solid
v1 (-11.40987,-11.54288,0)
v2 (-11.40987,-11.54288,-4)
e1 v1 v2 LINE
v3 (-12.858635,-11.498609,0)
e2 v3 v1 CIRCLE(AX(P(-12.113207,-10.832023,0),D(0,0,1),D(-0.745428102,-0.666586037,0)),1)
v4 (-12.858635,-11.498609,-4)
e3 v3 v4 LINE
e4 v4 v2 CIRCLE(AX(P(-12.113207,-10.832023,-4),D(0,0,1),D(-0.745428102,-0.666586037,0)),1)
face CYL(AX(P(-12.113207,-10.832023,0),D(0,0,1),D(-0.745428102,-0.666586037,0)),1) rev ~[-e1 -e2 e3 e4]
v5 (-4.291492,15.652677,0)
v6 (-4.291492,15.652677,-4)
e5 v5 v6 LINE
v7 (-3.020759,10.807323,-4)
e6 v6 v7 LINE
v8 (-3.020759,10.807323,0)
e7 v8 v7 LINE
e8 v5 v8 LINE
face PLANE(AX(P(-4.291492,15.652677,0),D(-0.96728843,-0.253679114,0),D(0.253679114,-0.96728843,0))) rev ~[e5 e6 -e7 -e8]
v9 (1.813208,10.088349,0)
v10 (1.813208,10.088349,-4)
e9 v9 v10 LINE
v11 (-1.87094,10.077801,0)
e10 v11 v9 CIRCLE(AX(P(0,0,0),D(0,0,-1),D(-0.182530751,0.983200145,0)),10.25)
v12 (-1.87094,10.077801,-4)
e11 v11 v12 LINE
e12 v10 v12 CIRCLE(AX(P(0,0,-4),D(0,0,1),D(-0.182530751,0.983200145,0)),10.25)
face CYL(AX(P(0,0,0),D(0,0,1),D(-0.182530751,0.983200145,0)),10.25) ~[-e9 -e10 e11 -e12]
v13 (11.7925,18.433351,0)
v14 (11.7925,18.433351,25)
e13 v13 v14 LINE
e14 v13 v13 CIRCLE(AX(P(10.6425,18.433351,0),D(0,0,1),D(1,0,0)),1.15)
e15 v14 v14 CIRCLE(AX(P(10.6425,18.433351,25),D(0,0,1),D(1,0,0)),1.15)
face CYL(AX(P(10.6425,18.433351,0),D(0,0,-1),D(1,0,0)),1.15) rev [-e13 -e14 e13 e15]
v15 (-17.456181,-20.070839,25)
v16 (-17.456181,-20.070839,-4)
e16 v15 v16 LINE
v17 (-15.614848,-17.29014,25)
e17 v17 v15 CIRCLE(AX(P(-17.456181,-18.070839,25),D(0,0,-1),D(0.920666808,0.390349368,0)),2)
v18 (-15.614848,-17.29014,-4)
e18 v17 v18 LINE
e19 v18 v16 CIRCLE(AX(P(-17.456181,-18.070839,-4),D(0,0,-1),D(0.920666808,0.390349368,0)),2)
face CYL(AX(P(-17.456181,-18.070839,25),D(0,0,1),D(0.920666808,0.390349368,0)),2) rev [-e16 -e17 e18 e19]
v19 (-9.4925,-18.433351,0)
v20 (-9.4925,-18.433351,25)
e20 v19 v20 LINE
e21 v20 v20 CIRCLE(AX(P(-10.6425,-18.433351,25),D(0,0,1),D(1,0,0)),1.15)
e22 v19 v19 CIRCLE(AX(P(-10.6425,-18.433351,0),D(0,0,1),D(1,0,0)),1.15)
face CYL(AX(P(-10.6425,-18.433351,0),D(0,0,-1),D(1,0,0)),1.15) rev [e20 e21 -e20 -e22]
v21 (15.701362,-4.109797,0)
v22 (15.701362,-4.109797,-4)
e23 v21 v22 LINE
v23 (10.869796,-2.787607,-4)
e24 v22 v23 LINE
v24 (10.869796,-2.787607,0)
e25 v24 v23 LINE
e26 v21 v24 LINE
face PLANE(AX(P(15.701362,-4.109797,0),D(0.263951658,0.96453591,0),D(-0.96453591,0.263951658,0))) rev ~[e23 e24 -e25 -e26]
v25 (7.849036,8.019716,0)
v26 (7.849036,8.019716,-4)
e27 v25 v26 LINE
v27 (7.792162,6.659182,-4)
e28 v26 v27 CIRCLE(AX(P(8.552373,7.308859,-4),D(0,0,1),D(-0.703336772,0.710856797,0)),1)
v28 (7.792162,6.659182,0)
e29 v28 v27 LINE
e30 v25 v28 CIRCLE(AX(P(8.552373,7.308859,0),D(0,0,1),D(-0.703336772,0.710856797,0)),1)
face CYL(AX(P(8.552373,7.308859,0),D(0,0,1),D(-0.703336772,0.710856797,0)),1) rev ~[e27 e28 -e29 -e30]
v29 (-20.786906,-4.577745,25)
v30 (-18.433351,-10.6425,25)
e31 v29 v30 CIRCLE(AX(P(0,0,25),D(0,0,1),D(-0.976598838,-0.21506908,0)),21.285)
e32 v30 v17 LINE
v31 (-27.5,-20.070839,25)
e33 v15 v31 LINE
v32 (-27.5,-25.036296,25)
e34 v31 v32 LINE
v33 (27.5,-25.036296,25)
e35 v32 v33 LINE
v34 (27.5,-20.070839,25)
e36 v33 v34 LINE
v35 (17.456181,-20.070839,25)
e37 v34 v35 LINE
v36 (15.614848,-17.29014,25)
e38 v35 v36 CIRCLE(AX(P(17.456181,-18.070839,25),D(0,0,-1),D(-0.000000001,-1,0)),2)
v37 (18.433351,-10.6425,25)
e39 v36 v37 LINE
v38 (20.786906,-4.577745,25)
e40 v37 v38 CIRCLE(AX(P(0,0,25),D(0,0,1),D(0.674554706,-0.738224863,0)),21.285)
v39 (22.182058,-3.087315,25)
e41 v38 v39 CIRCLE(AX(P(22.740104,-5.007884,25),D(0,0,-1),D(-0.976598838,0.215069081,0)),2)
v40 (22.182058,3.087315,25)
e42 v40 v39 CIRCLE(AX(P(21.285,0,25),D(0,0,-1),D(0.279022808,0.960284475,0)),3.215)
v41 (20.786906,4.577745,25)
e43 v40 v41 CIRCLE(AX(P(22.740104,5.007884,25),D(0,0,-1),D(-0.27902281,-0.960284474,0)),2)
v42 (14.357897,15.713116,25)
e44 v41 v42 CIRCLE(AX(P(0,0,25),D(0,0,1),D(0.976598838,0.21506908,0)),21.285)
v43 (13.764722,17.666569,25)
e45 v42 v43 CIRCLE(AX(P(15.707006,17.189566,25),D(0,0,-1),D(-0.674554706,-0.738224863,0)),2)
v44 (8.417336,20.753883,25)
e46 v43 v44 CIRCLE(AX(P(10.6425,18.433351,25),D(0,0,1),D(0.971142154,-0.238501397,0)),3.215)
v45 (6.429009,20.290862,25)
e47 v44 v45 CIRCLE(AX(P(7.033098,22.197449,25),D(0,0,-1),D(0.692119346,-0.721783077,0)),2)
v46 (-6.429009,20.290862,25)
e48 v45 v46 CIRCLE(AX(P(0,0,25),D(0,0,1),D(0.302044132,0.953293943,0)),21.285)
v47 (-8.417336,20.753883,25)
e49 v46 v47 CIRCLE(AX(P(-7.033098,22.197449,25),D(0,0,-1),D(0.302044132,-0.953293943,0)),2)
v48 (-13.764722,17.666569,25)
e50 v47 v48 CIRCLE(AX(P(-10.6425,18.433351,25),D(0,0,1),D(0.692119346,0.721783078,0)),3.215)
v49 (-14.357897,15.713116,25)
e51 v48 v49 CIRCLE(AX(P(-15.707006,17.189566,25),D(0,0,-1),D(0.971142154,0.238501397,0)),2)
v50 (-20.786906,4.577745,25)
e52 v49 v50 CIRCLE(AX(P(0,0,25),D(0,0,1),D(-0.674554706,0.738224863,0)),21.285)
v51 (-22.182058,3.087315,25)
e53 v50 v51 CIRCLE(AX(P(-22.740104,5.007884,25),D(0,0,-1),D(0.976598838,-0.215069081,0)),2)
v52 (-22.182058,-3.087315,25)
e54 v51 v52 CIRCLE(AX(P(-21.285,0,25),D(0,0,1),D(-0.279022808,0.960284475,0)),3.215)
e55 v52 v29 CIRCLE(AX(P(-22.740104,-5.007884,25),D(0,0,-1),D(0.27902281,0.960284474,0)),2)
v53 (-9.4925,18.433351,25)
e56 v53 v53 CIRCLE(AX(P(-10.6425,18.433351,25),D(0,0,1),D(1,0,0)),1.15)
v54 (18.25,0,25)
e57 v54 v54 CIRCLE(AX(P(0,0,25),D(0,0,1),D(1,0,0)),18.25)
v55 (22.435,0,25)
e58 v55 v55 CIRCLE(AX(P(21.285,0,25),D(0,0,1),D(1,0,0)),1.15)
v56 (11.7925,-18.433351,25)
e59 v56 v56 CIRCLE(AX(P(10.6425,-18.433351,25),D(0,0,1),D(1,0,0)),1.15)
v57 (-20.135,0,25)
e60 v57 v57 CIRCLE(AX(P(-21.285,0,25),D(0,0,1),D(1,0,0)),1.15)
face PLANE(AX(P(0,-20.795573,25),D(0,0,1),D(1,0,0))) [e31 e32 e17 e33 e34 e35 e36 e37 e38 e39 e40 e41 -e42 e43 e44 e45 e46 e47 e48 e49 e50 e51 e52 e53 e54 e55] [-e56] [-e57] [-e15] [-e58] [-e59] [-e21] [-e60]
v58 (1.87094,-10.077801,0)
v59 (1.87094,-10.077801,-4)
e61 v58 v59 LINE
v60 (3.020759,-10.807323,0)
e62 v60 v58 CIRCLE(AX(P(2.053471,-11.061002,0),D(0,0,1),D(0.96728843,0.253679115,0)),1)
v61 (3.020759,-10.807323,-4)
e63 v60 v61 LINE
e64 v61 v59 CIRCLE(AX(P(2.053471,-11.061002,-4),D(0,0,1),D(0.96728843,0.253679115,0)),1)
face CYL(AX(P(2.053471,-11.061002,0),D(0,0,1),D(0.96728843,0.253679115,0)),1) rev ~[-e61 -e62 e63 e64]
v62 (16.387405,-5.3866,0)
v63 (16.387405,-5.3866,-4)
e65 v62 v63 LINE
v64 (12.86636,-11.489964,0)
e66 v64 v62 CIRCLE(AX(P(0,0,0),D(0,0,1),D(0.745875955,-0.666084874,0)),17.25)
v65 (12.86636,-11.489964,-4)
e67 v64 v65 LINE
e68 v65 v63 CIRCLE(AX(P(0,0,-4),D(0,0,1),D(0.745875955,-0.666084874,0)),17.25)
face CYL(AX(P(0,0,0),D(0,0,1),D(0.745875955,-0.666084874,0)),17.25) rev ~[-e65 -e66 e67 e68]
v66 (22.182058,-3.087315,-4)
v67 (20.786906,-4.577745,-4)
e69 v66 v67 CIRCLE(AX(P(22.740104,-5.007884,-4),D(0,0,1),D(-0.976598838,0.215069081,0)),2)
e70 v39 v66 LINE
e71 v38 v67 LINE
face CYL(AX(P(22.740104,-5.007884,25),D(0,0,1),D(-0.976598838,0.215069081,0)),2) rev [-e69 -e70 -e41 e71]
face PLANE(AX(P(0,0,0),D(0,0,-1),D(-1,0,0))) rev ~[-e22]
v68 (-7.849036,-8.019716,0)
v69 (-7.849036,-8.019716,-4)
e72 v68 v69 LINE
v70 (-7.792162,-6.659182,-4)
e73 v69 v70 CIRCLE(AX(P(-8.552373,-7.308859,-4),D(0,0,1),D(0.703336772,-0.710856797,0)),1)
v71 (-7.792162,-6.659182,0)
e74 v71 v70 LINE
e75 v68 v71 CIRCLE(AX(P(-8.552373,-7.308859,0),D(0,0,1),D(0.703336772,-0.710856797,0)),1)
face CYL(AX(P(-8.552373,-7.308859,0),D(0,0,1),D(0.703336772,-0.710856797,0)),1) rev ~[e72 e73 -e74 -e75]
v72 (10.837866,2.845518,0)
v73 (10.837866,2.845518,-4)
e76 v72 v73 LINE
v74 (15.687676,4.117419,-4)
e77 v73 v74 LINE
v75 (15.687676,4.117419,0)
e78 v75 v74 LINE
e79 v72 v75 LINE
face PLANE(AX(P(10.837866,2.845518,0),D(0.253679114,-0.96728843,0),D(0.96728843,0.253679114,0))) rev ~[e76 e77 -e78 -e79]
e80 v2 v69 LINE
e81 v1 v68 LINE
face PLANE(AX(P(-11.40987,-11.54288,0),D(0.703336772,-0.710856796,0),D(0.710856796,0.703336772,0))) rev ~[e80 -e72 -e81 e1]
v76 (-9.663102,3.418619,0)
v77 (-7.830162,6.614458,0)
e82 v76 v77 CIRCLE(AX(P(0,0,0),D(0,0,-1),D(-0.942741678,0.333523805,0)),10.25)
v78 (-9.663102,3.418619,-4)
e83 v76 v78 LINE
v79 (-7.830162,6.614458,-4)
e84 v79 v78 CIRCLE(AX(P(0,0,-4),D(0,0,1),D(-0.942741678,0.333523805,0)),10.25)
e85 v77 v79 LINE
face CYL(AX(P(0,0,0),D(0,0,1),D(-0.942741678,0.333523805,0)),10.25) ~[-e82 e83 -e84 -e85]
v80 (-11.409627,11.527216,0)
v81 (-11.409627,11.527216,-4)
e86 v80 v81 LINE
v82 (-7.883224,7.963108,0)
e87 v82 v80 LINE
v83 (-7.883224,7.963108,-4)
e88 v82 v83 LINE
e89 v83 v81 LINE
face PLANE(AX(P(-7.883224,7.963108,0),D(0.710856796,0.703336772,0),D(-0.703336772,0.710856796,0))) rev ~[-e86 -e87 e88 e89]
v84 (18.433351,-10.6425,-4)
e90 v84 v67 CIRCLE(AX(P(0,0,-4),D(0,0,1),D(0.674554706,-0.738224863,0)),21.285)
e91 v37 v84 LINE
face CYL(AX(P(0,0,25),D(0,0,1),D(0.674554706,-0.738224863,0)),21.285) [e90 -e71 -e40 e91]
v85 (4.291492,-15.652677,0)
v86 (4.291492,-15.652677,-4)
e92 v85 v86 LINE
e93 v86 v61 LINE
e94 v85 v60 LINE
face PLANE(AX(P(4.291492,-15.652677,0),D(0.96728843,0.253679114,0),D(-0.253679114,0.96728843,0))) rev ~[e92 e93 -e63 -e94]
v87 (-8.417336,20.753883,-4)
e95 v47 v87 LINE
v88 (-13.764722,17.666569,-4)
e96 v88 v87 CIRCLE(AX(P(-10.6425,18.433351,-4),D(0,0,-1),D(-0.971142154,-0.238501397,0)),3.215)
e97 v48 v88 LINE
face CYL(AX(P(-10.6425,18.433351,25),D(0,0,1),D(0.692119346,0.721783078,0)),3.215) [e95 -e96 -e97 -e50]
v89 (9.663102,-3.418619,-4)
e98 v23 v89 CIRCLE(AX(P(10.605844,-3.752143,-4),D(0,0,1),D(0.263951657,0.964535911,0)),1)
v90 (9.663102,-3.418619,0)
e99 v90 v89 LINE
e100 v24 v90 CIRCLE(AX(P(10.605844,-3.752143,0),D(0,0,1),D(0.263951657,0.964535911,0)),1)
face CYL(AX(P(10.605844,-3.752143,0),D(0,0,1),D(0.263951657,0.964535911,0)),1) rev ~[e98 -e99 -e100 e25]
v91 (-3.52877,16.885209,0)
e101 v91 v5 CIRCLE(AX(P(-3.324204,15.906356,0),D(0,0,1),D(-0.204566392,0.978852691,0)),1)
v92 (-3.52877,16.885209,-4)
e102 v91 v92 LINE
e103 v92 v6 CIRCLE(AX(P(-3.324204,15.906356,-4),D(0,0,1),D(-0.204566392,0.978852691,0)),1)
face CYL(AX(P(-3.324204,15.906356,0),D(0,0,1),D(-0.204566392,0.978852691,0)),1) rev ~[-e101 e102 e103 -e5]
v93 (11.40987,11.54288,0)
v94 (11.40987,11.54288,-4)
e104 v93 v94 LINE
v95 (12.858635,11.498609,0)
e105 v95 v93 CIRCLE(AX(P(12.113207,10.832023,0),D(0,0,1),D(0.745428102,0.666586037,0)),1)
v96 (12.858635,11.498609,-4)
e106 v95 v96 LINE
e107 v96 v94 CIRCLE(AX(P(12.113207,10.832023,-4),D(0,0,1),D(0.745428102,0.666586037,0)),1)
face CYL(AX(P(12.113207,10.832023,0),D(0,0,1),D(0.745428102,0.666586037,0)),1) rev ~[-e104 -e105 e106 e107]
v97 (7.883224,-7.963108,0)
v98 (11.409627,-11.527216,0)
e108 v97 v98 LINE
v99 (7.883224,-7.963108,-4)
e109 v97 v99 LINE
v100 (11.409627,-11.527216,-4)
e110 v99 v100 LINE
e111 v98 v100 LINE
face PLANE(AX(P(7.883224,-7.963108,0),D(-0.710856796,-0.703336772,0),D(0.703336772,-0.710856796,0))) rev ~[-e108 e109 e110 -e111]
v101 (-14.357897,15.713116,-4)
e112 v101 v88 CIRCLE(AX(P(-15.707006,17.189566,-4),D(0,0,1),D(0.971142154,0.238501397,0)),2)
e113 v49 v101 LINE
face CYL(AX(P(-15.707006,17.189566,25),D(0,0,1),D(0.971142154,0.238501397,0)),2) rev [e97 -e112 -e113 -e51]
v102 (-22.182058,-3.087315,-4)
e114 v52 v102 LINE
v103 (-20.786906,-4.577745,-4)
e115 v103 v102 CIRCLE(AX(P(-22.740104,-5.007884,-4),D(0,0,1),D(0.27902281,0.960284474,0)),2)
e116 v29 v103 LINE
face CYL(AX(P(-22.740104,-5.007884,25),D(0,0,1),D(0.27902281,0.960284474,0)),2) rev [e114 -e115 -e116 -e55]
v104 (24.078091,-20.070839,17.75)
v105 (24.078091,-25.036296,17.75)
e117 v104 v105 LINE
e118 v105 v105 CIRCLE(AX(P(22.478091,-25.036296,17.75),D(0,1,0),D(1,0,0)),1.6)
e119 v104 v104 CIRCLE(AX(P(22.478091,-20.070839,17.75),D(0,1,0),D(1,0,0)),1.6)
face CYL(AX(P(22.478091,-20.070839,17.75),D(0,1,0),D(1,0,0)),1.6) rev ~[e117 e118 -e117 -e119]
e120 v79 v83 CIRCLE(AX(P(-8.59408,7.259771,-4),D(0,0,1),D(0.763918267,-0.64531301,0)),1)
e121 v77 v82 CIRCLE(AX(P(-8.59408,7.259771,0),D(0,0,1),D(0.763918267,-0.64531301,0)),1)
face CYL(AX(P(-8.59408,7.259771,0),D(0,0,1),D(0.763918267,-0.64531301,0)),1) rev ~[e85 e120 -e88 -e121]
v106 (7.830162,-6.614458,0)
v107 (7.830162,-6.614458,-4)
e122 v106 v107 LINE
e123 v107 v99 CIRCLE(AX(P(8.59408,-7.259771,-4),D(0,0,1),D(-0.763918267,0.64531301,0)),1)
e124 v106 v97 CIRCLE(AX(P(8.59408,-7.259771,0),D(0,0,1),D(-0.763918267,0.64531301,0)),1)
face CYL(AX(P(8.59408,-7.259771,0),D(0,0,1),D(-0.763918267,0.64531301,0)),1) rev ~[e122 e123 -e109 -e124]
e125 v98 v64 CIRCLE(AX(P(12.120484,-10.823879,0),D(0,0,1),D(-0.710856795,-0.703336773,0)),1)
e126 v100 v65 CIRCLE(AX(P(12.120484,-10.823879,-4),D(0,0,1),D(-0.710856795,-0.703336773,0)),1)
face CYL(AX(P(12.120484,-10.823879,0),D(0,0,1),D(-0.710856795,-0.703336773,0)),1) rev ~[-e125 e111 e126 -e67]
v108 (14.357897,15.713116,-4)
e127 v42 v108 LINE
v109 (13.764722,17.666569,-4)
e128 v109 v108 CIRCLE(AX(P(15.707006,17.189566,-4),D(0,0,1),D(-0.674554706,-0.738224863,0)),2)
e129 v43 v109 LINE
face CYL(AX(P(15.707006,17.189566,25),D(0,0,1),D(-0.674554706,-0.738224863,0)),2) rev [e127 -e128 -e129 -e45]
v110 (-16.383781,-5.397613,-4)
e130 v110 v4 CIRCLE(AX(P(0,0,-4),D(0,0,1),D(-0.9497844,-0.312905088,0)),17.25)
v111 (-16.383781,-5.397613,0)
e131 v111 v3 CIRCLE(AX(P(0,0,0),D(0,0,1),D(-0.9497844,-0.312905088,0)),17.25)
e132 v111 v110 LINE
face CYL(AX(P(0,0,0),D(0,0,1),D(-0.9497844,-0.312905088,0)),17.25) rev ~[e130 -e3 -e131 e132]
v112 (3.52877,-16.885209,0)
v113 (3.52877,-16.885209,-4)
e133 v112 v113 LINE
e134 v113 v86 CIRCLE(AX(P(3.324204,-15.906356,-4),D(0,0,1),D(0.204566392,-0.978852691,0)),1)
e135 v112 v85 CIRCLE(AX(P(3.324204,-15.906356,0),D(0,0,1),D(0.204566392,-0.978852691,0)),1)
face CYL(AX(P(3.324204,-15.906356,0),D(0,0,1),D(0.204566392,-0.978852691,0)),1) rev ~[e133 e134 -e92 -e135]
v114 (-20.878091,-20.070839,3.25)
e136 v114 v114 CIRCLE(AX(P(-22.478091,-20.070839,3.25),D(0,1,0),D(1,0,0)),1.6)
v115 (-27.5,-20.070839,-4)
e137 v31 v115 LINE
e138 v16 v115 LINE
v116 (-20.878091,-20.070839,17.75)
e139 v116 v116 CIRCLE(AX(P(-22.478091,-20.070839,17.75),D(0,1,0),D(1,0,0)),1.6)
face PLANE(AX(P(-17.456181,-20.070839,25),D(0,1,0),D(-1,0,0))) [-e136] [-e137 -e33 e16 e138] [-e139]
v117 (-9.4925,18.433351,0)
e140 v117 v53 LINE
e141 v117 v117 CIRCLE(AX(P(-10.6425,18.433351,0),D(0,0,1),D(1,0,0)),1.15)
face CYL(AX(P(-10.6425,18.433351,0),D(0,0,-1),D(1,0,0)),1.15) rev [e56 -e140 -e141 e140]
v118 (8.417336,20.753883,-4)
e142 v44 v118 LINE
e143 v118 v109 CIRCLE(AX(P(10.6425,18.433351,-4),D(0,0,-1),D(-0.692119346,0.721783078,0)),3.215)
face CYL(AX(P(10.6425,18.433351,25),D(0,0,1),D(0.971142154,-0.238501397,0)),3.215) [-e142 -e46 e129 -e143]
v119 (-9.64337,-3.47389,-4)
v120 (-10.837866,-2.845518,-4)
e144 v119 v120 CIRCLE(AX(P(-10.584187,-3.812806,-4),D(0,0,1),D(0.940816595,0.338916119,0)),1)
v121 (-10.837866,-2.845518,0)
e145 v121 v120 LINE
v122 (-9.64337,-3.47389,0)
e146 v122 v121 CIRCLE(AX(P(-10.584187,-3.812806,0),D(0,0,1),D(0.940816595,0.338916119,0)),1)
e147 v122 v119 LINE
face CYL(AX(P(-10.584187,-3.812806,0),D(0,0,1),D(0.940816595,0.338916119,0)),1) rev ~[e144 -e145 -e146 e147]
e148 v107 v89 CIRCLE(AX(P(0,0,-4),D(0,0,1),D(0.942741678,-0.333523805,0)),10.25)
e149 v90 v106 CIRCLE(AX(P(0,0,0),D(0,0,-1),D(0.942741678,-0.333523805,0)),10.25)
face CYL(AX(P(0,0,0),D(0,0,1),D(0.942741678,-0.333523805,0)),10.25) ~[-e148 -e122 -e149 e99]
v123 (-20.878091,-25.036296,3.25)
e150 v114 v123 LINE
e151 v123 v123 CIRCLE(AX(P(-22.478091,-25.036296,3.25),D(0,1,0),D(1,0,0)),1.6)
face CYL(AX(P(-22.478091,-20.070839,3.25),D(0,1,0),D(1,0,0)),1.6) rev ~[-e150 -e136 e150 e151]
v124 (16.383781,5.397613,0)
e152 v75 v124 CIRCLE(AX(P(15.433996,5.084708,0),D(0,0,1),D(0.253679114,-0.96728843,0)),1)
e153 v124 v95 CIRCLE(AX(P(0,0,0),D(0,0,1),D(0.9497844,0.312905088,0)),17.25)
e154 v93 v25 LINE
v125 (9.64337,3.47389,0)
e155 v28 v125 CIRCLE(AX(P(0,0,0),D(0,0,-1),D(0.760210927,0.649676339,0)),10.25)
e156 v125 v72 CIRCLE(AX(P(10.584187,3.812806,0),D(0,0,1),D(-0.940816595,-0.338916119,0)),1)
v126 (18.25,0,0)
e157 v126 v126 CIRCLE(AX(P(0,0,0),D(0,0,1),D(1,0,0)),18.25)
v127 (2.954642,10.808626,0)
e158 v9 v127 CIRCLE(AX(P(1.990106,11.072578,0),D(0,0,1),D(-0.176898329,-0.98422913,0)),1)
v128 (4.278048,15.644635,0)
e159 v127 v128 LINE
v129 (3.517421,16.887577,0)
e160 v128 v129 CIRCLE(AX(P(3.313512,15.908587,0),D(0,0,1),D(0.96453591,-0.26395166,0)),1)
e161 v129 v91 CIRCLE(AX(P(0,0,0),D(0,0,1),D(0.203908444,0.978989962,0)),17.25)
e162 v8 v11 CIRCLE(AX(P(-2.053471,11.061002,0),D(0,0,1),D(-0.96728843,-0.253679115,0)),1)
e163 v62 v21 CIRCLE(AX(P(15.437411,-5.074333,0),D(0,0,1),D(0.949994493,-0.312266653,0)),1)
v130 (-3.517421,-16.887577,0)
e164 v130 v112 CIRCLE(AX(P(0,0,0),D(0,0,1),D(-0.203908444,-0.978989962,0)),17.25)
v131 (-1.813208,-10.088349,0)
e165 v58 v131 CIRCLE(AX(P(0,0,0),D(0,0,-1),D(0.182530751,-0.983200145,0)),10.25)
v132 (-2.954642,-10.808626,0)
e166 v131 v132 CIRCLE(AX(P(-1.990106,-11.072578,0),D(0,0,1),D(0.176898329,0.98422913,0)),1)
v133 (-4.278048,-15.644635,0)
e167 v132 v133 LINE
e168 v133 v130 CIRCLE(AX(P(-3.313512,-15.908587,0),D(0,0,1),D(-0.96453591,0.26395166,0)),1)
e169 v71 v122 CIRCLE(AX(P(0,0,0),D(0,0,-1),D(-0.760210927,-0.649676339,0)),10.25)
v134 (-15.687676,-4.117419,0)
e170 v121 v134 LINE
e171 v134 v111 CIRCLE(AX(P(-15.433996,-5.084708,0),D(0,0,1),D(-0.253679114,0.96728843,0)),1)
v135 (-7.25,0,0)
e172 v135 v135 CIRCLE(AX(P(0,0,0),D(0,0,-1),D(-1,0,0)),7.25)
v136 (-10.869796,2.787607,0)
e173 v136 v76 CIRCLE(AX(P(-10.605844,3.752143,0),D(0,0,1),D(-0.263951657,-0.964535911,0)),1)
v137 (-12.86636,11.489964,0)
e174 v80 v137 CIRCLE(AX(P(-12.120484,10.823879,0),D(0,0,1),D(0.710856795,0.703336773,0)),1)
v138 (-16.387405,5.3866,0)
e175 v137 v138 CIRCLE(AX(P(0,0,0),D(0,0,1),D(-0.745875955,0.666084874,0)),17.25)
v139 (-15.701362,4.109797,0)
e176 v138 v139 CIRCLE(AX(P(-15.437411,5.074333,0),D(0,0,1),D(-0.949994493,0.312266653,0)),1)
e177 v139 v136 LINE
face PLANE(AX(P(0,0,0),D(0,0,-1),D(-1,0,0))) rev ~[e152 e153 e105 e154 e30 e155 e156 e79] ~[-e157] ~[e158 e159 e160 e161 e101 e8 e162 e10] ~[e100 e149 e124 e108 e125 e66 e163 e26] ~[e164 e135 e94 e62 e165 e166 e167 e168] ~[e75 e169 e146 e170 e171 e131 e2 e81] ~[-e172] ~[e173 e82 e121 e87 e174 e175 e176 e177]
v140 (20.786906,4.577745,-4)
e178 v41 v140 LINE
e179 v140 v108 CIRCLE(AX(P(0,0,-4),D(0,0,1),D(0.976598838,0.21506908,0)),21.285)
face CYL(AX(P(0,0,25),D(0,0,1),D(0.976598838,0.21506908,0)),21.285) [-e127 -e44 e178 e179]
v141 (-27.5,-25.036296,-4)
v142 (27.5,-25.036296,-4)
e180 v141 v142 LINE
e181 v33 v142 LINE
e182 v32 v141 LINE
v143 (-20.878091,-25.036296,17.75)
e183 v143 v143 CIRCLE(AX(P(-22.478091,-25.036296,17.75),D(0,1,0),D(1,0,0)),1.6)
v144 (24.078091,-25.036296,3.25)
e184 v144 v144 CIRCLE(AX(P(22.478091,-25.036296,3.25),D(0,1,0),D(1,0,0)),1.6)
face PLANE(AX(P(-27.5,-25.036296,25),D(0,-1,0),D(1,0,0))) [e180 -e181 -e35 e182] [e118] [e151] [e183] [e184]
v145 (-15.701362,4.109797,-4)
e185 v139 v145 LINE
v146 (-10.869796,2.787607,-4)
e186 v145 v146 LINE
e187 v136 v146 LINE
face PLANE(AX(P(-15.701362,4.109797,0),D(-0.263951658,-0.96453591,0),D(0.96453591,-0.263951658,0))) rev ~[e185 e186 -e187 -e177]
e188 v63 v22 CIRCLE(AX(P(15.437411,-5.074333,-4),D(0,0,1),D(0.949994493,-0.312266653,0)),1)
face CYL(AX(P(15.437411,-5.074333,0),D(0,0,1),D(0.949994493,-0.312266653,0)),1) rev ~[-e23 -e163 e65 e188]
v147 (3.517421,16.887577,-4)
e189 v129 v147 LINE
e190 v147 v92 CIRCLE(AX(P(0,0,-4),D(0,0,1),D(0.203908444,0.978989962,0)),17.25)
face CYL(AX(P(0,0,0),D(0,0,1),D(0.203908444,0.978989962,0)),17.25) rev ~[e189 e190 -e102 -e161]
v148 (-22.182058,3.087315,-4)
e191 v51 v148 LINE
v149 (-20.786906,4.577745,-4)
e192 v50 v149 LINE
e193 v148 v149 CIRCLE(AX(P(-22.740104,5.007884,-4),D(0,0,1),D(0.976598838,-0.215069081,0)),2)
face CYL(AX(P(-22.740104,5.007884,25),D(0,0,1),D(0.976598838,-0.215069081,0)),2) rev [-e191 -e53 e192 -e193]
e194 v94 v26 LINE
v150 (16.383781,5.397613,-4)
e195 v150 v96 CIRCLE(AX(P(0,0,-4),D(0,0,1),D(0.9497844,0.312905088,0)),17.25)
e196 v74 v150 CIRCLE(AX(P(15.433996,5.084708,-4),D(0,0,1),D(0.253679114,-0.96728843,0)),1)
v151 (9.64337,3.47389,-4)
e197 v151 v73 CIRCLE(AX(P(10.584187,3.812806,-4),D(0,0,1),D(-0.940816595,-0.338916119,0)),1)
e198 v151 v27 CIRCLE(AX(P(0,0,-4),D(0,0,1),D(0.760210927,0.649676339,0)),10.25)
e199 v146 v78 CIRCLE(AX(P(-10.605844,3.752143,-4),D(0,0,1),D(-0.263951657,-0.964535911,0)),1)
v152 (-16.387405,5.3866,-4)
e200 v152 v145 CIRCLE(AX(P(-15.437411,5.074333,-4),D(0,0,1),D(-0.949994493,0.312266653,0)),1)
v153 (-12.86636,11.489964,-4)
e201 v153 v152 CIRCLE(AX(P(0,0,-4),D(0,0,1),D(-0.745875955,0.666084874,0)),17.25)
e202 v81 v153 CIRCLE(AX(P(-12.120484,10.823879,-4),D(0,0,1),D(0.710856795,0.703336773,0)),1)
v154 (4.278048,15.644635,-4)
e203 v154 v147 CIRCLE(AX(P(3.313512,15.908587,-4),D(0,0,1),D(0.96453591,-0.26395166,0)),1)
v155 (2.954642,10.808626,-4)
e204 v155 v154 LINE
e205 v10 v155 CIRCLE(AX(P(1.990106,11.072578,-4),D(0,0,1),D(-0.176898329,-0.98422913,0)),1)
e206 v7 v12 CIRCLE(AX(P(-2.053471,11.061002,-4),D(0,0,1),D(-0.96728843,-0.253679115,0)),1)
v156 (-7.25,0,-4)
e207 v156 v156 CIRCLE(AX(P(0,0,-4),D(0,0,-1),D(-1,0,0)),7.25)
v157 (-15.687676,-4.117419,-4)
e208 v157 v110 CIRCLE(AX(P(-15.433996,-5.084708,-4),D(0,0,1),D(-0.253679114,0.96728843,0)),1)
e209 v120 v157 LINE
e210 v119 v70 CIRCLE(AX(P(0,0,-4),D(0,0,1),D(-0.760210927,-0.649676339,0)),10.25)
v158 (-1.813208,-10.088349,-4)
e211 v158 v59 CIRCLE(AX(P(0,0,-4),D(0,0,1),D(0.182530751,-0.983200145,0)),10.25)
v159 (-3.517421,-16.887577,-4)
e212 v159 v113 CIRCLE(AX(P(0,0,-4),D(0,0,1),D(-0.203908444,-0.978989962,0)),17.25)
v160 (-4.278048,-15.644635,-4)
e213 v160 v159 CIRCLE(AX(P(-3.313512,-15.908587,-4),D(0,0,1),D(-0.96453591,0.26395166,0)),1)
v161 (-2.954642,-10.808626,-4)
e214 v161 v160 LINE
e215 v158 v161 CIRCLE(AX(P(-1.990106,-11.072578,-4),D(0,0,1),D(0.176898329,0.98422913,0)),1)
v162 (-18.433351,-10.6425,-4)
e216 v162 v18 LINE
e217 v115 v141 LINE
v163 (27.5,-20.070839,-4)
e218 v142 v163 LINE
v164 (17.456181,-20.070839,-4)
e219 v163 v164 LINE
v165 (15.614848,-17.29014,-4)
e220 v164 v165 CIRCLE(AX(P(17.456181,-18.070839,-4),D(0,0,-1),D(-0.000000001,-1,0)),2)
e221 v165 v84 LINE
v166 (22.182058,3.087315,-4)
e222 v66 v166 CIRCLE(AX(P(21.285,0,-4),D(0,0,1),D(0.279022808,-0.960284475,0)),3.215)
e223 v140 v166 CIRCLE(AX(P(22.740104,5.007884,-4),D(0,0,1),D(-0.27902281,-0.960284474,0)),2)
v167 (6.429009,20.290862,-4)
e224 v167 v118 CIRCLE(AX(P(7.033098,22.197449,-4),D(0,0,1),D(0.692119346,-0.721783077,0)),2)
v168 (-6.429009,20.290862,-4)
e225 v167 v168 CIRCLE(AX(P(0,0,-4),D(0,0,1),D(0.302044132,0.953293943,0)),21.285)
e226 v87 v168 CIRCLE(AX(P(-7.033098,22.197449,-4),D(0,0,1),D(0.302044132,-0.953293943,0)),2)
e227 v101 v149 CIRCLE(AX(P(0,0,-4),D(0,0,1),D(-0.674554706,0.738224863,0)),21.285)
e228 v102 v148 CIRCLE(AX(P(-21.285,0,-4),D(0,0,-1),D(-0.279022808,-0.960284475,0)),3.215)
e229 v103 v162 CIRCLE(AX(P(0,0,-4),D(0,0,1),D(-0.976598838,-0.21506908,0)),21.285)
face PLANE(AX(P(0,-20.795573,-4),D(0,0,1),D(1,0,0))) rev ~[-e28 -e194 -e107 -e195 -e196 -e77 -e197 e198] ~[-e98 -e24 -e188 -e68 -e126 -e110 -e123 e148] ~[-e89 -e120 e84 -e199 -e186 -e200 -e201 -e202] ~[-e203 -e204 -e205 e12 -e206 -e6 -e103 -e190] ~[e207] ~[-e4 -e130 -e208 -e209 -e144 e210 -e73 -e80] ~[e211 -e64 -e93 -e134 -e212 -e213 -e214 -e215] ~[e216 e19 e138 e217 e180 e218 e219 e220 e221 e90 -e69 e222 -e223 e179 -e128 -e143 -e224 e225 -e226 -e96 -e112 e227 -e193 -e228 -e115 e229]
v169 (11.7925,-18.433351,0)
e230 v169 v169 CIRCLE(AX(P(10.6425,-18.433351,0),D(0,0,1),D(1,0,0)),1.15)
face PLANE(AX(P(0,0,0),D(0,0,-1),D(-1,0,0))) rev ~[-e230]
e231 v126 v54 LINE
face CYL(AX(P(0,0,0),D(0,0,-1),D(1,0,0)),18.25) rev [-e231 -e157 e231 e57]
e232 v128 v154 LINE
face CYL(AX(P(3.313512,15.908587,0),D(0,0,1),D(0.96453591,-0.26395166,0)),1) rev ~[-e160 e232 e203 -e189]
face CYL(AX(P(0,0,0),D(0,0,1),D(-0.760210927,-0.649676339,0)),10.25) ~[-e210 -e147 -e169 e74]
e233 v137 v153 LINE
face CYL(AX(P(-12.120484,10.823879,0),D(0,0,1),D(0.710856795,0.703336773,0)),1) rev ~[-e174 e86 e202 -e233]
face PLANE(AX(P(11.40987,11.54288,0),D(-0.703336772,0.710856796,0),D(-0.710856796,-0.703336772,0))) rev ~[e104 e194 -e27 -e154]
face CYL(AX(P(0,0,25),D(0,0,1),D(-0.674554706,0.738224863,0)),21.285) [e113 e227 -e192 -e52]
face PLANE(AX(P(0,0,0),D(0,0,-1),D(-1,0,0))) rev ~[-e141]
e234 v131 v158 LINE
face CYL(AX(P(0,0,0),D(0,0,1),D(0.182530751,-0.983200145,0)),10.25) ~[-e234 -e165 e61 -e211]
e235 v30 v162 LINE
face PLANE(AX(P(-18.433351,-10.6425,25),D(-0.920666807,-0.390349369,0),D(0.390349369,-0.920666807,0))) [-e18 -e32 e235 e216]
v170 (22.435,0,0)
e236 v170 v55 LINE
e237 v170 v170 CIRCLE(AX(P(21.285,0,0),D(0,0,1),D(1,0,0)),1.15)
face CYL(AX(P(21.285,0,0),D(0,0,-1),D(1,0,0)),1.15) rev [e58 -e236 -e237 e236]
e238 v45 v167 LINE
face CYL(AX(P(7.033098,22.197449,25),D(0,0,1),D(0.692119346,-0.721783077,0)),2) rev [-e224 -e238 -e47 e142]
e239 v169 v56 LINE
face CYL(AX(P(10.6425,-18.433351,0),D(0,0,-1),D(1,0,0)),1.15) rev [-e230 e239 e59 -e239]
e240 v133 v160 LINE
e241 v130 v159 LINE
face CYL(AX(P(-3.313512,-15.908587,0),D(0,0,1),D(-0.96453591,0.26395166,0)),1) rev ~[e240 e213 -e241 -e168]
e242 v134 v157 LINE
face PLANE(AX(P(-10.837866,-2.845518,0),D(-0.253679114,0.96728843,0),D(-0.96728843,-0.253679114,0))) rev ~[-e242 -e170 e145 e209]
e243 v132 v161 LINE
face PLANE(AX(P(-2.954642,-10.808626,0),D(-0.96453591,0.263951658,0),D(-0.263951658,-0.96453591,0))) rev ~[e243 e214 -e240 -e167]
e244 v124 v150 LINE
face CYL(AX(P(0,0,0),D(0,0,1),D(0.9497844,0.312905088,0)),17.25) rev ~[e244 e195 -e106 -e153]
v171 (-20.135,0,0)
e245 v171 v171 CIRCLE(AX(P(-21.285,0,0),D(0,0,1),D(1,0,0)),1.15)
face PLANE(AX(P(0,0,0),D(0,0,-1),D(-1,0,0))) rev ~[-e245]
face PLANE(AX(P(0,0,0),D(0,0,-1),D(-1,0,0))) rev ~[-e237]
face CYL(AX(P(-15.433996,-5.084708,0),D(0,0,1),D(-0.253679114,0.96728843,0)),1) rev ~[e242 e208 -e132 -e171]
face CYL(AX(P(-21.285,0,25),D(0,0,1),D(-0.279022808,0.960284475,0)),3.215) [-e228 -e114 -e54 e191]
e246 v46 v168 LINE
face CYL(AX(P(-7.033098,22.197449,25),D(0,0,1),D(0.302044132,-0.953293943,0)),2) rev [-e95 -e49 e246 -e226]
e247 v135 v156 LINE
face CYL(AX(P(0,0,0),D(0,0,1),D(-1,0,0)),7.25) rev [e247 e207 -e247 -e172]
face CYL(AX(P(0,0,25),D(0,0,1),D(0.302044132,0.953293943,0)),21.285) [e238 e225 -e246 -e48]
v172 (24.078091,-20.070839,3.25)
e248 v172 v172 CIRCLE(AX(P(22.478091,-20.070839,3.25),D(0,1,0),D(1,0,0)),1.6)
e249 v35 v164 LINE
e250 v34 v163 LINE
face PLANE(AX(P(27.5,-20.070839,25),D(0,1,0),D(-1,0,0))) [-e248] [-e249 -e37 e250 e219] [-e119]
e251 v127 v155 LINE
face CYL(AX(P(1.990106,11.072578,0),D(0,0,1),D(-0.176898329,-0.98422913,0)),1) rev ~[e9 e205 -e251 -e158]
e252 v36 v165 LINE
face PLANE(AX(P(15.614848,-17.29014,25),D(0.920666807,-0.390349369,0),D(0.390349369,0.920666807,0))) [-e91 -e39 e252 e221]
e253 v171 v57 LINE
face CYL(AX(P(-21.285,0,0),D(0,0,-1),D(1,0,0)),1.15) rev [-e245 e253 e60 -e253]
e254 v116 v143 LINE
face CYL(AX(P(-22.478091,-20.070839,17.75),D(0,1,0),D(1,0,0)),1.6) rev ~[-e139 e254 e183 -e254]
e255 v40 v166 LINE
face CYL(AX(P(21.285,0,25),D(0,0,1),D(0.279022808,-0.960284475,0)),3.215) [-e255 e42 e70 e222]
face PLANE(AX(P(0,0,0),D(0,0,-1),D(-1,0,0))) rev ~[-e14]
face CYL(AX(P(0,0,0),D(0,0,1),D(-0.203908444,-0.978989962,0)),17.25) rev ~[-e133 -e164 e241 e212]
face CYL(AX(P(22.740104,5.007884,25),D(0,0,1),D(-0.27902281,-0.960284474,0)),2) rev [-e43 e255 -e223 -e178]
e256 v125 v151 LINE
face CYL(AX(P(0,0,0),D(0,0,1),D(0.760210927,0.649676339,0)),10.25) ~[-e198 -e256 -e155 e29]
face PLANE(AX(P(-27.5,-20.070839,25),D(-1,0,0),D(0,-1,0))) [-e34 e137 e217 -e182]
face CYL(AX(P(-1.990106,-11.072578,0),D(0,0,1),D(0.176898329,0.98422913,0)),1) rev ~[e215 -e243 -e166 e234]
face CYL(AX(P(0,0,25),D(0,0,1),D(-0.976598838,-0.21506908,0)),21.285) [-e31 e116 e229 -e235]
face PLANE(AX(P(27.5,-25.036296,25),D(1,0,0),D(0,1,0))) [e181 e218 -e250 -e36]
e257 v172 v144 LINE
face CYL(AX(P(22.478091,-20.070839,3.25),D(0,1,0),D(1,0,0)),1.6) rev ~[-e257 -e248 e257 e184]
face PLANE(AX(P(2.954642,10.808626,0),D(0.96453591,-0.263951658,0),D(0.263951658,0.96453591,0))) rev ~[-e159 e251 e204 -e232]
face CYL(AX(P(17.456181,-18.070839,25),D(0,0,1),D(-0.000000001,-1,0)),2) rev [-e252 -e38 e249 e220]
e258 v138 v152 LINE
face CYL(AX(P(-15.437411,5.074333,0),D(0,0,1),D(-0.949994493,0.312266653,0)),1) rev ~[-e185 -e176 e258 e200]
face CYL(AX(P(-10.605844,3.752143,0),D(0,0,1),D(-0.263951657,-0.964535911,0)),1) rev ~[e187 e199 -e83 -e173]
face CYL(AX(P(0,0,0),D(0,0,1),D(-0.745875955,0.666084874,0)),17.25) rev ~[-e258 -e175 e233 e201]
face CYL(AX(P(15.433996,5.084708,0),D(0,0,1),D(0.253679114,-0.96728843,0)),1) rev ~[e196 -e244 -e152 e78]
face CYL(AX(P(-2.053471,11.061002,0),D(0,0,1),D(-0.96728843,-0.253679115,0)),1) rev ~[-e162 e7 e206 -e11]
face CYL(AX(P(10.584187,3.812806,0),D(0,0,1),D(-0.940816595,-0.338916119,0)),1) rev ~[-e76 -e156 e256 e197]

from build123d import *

# Parameters (mm, degrees)
SKETCH1_R          = 24.5
SKETCH1_R_2        = 18.25
SKETCH1_R_3        = 1.15
SHELL_DEPTH        = 25
SKETCH2_R          = 24.5
SKETCH2_R_2        = 7.25
FRONT_FACE_DEPTH   = 4
FRONT_CUTOUT_REACH = 6
SKETCH4_R          = 47.662940576
CUT_EXTRUDE2_DEPTH = 30
FOOT_DEPTH         = 29
CUT_EXTRUDE3_REACH = 6.965
SKETCH6_R          = 1.6


with BuildPart() as part:
    # Sketch1 → Shell (new body)
    with BuildSketch(Plane.XY):
        Circle(SKETCH1_R)
        Circle(SKETCH1_R_2, mode=Mode.SUBTRACT)
        with Locations((10.6425, 18.43335072)):
            Circle(SKETCH1_R_3, mode=Mode.SUBTRACT)
        with Locations((21.285, 0)):
            Circle(SKETCH1_R_3, mode=Mode.SUBTRACT)
        with Locations((10.6425, -18.43335072)):
            Circle(SKETCH1_R_3, mode=Mode.SUBTRACT)
        with Locations((-10.6425, -18.43335072)):
            Circle(SKETCH1_R_3, mode=Mode.SUBTRACT)
        with Locations((-21.285, 0)):
            Circle(SKETCH1_R_3, mode=Mode.SUBTRACT)
        with Locations((-10.6425, 18.43335072)):
            Circle(SKETCH1_R_3, mode=Mode.SUBTRACT)
    extrude(amount=SHELL_DEPTH)

    # Sketch2 → Front Face (add)
    with BuildSketch(Plane(origin=(0, 0, 0), x_dir=(-1, 0, 0), z_dir=(0, 0, -1))):
        Circle(SKETCH2_R)
        Circle(SKETCH2_R_2, mode=Mode.SUBTRACT)
    extrude(amount=FRONT_FACE_DEPTH)

    # Sketch3 → Front Cutout (cut, up to next)
    with BuildSketch(Plane.XY, mode=Mode.PRIVATE) as front_cutout_sk1:
        with BuildLine():
            Line((2.9546421, 10.808626061), (4.278048129, 15.64463523))
            ThreePointArc((4.278048129, 15.64463523), (4.166472664, 16.430562443), (3.517420663, 16.88757685))
            ThreePointArc((3.517420663, 16.88757685), (-0.005796994, 17.249999026), (-3.528770265, 16.885208924))
            ThreePointArc((-3.528770265, 16.885208924), (-4.174553562, 16.432574254), (-4.291492303, 15.652677119))
            Line((-4.291492303, 15.652677119), (-3.020759373, 10.807322517))
            ThreePointArc((-3.020759373, 10.807322517), (-2.58920538, 10.216615101), (-1.870940192, 10.077801486))
            ThreePointArc((-1.870940192, 10.077801486), (-0.029343923, 10.249957997), (1.813207862, 10.088348589))
            ThreePointArc((1.813207862, 10.088348589), (2.523766335, 10.226878689), (2.9546421, 10.808626061))
        make_face()
    front_cutout_tool1 = extrude(front_cutout_sk1.sketch, amount=-FRONT_CUTOUT_REACH, mode=Mode.PRIVATE) & part.part
    add(front_cutout_tool1.solids().sort_by_distance((-0.016979, 13.876247, 0))[0], mode=Mode.SUBTRACT)
    # Sketch3 → Front Cutout (cut, up to next)
    with BuildSketch(Plane.XY, mode=Mode.PRIVATE) as front_cutout_sk2:
        with BuildLine():
            Line((10.837865799, 2.845517913), (15.687675607, 4.117419256))
            ThreePointArc((15.687675607, 4.117419256), (16.312520806, 4.60701005), (16.383780892, 5.397612775))
            ThreePointArc((16.383780892, 5.397612775), (14.936038875, 8.630019857), (12.858634744, 11.498609156))
            ThreePointArc((12.858634744, 11.498609156), (12.143749973, 11.831556562), (11.409869871, 11.542879914))
            Line((11.409869871, 11.542879914), (7.849036161, 8.019715614))
            ThreePointArc((7.849036161, 8.019715614), (7.553245528, 7.350625185), (7.792162005, 6.659182478))
            ThreePointArc((7.792162005, 6.659182478), (8.862052051, 5.150391581), (9.643370091, 3.473890223))
            ThreePointArc((9.643370091, 3.473890223), (10.118619913, 2.927793585), (10.837865799, 2.845517913))
        make_face()
    front_cutout_tool2 = extrude(front_cutout_sk2.sketch, amount=-FRONT_CUTOUT_REACH, mode=Mode.PRIVATE) & part.part
    add(front_cutout_tool2.solids().sort_by_distance((12.008692, 6.952828, 0))[0], mode=Mode.SUBTRACT)
    # Sketch3 → Front Cutout (cut, up to next)
    with BuildSketch(Plane.XY, mode=Mode.PRIVATE) as front_cutout_sk3:
        with BuildLine():
            Line((7.883223699, -7.963108149), (11.409627477, -11.527215974))
            ThreePointArc((11.409627477, -11.527215974), (12.146048142, -11.823552392), (12.866360229, -11.489964075))
            ThreePointArc((12.866360229, -11.489964075), (14.941835869, -8.619979169), (16.387405009, -5.386599768))
            ThreePointArc((16.387405009, -5.386599768), (16.318303535, -4.601017693), (15.701362174, -4.109797205))
            Line((15.701362174, -4.109797205), (10.869795533, -2.787606903))
            ThreePointArc((10.869795533, -2.787606903), (10.142450908, -2.865989916), (9.663102197, -3.418619008))
            ThreePointArc((9.663102197, -3.418619008), (8.891395974, -5.099566416), (7.830162229, -6.614458365))
            ThreePointArc((7.830162229, -6.614458365), (7.594853579, -7.299085103), (7.883223699, -7.963108149))
        make_face()
    front_cutout_tool3 = extrude(front_cutout_sk3.sketch, amount=-FRONT_CUTOUT_REACH, mode=Mode.PRIVATE) & part.part
    add(front_cutout_tool3.solids().sort_by_distance((12.025672, -6.923419, 0))[0], mode=Mode.SUBTRACT)
    # Sketch3 → Front Cutout (cut, up to next)
    with BuildSketch(Plane.XY, mode=Mode.PRIVATE) as front_cutout_sk4:
        with BuildLine():
            Line((-2.9546421, -10.808626061), (-4.278048129, -15.64463523))
            ThreePointArc((-4.278048129, -15.64463523), (-4.166472664, -16.430562443), (-3.517420663, -16.88757685))
            ThreePointArc((-3.517420663, -16.88757685), (0.005796994, -17.249999026), (3.528770265, -16.885208924))
            ThreePointArc((3.528770265, -16.885208924), (4.174553562, -16.432574254), (4.291492303, -15.652677119))
            Line((4.291492303, -15.652677119), (3.020759373, -10.807322517))
            ThreePointArc((3.020759373, -10.807322517), (2.58920538, -10.216615101), (1.870940192, -10.077801486))
            ThreePointArc((1.870940192, -10.077801486), (0.029343923, -10.249957997), (-1.813207862, -10.088348589))
            ThreePointArc((-1.813207862, -10.088348589), (-2.523766335, -10.226878689), (-2.9546421, -10.808626061))
        make_face()
    front_cutout_tool4 = extrude(front_cutout_sk4.sketch, amount=-FRONT_CUTOUT_REACH, mode=Mode.PRIVATE) & part.part
    add(front_cutout_tool4.solids().sort_by_distance((0.016979, -13.876247, 0))[0], mode=Mode.SUBTRACT)
    # Sketch3 → Front Cutout (cut, up to next)
    with BuildSketch(Plane.XY, mode=Mode.PRIVATE) as front_cutout_sk5:
        with BuildLine():
            Line((-10.837865799, -2.845517913), (-15.687675607, -4.117419256))
            ThreePointArc((-15.687675607, -4.117419256), (-16.312520806, -4.60701005), (-16.383780892, -5.397612775))
            ThreePointArc((-16.383780892, -5.397612775), (-14.936038875, -8.630019857), (-12.858634744, -11.498609156))
            ThreePointArc((-12.858634744, -11.498609156), (-12.143749973, -11.831556562), (-11.409869871, -11.542879914))
            Line((-11.409869871, -11.542879914), (-7.849036161, -8.019715614))
            ThreePointArc((-7.849036161, -8.019715614), (-7.553245528, -7.350625185), (-7.792162005, -6.659182478))
            ThreePointArc((-7.792162005, -6.659182478), (-8.862052051, -5.150391581), (-9.643370091, -3.473890223))
            ThreePointArc((-9.643370091, -3.473890223), (-10.118619913, -2.927793585), (-10.837865799, -2.845517913))
        make_face()
    front_cutout_tool5 = extrude(front_cutout_sk5.sketch, amount=-FRONT_CUTOUT_REACH, mode=Mode.PRIVATE) & part.part
    add(front_cutout_tool5.solids().sort_by_distance((-12.008692, -6.952828, 0))[0], mode=Mode.SUBTRACT)
    # Sketch3 → Front Cutout (cut, up to next)
    with BuildSketch(Plane.XY, mode=Mode.PRIVATE) as front_cutout_sk6:
        with BuildLine():
            Line((-7.883223699, 7.963108149), (-11.409627477, 11.527215974))
            ThreePointArc((-11.409627477, 11.527215974), (-12.146048142, 11.823552392), (-12.866360229, 11.489964075))
            ThreePointArc((-12.866360229, 11.489964075), (-14.941835869, 8.619979169), (-16.387405009, 5.386599768))
            ThreePointArc((-16.387405009, 5.386599768), (-16.318303535, 4.601017693), (-15.701362174, 4.109797205))
            Line((-15.701362174, 4.109797205), (-10.869795533, 2.787606903))
            ThreePointArc((-10.869795533, 2.787606903), (-10.142450908, 2.865989916), (-9.663102197, 3.418619008))
            ThreePointArc((-9.663102197, 3.418619008), (-8.891395974, 5.099566416), (-7.830162229, 6.614458365))
            ThreePointArc((-7.830162229, 6.614458365), (-7.594853579, 7.299085103), (-7.883223699, 7.963108149))
        make_face()
    front_cutout_tool6 = extrude(front_cutout_sk6.sketch, amount=-FRONT_CUTOUT_REACH, mode=Mode.PRIVATE) & part.part
    add(front_cutout_tool6.solids().sort_by_distance((-12.025672, 6.923419, 0))[0], mode=Mode.SUBTRACT)

    # Sketch4 → Cut-Extrude2 (cut, through all)
    with BuildSketch(Plane.XY.offset(25)):
        Circle(SKETCH4_R)
        with BuildLine():
            ThreePointArc((-14.357896922, 15.713116209), (-18.43335072, 10.6425), (-20.78690627, 4.577745375))
            ThreePointArc((-20.78690627, 4.577745375), (-21.279990354, 3.641110586), (-22.182058329, 3.087314586))
            ThreePointArc((-22.182058329, 3.087314586), (-24.5, 0), (-22.182058329, -3.087314586))
            ThreePointArc((-22.182058329, -3.087314586), (-21.279990354, -3.641110586), (-20.78690627, -4.577745375))
            ThreePointArc((-20.78690627, -4.577745375), (-18.43335072, -10.6425), (-14.357896922, -15.713116209))
            ThreePointArc((-14.357896922, -15.713116209), (-13.793289442, -16.608456946), (-13.764722026, -17.666568728))
            ThreePointArc((-13.764722026, -17.666568728), (-12.25, -21.217622393), (-8.417336304, -20.753883315))
            ThreePointArc((-8.417336304, -20.753883315), (-7.486700912, -20.249567531), (-6.429009348, -20.290861583))
            ThreePointArc((-6.429009348, -20.290861583), (0, -21.285), (6.429009348, -20.290861583))
            ThreePointArc((6.429009348, -20.290861583), (7.486700912, -20.249567531), (8.417336304, -20.753883315))
            ThreePointArc((8.417336304, -20.753883315), (12.25, -21.217622393), (13.764722026, -17.666568728))
            ThreePointArc((13.764722026, -17.666568728), (13.793289442, -16.608456946), (14.357896922, -15.713116209))
            ThreePointArc((14.357896922, -15.713116209), (18.43335072, -10.6425), (20.78690627, -4.577745375))
            ThreePointArc((20.78690627, -4.577745375), (21.279990354, -3.641110586), (22.182058329, -3.087314586))
            ThreePointArc((22.182058329, -3.087314586), (24.5, 0), (22.182058329, 3.087314586))
            ThreePointArc((22.182058329, 3.087314586), (21.279990354, 3.641110586), (20.78690627, 4.577745375))
            ThreePointArc((20.78690627, 4.577745375), (18.43335072, 10.6425), (14.357896922, 15.713116209))
            ThreePointArc((14.357896922, 15.713116209), (13.793289442, 16.608456946), (13.764722026, 17.666568728))
            ThreePointArc((13.764722026, 17.666568728), (12.25, 21.217622393), (8.417336304, 20.753883315))
            ThreePointArc((8.417336304, 20.753883315), (7.486700912, 20.249567531), (6.429009348, 20.290861583))
            ThreePointArc((6.429009348, 20.290861583), (0, 21.285), (-6.429009348, 20.290861583))
            ThreePointArc((-6.429009348, 20.290861583), (-7.486700912, 20.249567531), (-8.417336304, 20.753883315))
            ThreePointArc((-8.417336304, 20.753883315), (-12.25, 21.217622393), (-13.764722026, 17.666568728))
            ThreePointArc((-13.764722026, 17.666568728), (-13.793289442, 16.608456946), (-14.357896922, 15.713116209))
        make_face(mode=Mode.SUBTRACT)
    extrude(amount=-CUT_EXTRUDE2_DEPTH, mode=Mode.SUBTRACT)

    # Sketch5 → Foot (add)
    with BuildSketch(Plane.XY.offset(25)):
        with BuildLine():
            Line((-27.5, -25.036296311), (27.5, -25.036296311))
            Line((27.5, -25.036296311), (27.5, -20.070839215))
            Line((27.5, -20.070839215), (17.456181219, -20.070839215))
            ThreePointArc((17.456181219, -20.070839215), (15.788638495, -19.175058967), (15.614847604, -17.290140477))
            Line((15.614847604, -17.290140477), (18.43335072, -10.6425))
            ThreePointArc((18.43335072, -10.6425), (16.590487264, -13.334427522), (14.357896922, -15.713116209))
            ThreePointArc((14.357896922, -15.713116209), (13.793289442, -16.608456946), (13.764722026, -17.666568728))
            ThreePointArc((13.764722026, -17.666568728), (12.25, -21.217622393), (8.417336304, -20.753883315))
            ThreePointArc((8.417336304, -20.753883315), (7.486700912, -20.249567531), (6.429009348, -20.290861583))
            ThreePointArc((6.429009348, -20.290861583), (0, -21.285), (-6.429009348, -20.290861583))
            ThreePointArc((-6.429009348, -20.290861583), (-7.486700912, -20.249567531), (-8.417336304, -20.753883315))
            ThreePointArc((-8.417336304, -20.753883315), (-12.25, -21.217622393), (-13.764722026, -17.666568728))
            ThreePointArc((-13.764722026, -17.666568728), (-13.793289442, -16.608456946), (-14.357896922, -15.713116209))
            ThreePointArc((-14.357896922, -15.713116209), (-16.590487264, -13.334427522), (-18.43335072, -10.6425))
            Line((-18.43335072, -10.6425), (-15.614847604, -17.290140477))
            ThreePointArc((-15.614847604, -17.290140477), (-15.788638495, -19.175058967), (-17.456181219, -20.070839215))
            Line((-17.456181219, -20.070839215), (-27.5, -20.070839215))
            Line((-27.5, -20.070839215), (-27.5, -25.036296311))
        make_face()
    extrude(amount=-FOOT_DEPTH)

    # Sketch6 → Cut-Extrude3 (cut, up to next)
    with BuildSketch(Plane(origin=(0, -20.070839215, 0), x_dir=(1, 0, 0), z_dir=(0, 1, 0)), mode=Mode.PRIVATE) as cut_extrude3_sk1:
        with Locations((22.47809061, -17.75)):
            Circle(SKETCH6_R)
    cut_extrude3_tool1 = extrude(cut_extrude3_sk1.sketch, amount=-CUT_EXTRUDE3_REACH, mode=Mode.PRIVATE) & part.part
    add(cut_extrude3_tool1.solids().sort_by_distance((22.478091, -20.070839, 17.75))[0], mode=Mode.SUBTRACT)
    # Sketch6 → Cut-Extrude3 (cut, up to next)
    with BuildSketch(Plane(origin=(0, -20.070839215, 0), x_dir=(1, 0, 0), z_dir=(0, 1, 0)), mode=Mode.PRIVATE) as cut_extrude3_sk2:
        with Locations((22.47809061, -3.25)):
            Circle(SKETCH6_R)
    cut_extrude3_tool2 = extrude(cut_extrude3_sk2.sketch, amount=-CUT_EXTRUDE3_REACH, mode=Mode.PRIVATE) & part.part
    add(cut_extrude3_tool2.solids().sort_by_distance((22.478091, -20.070839, 3.25))[0], mode=Mode.SUBTRACT)
    # Sketch6 → Cut-Extrude3 (cut, up to next)
    with BuildSketch(Plane(origin=(0, -20.070839215, 0), x_dir=(1, 0, 0), z_dir=(0, 1, 0)), mode=Mode.PRIVATE) as cut_extrude3_sk3:
        with Locations((-22.47809061, -17.75)):
            Circle(SKETCH6_R)
    cut_extrude3_tool3 = extrude(cut_extrude3_sk3.sketch, amount=-CUT_EXTRUDE3_REACH, mode=Mode.PRIVATE) & part.part
    add(cut_extrude3_tool3.solids().sort_by_distance((-22.478091, -20.070839, 17.75))[0], mode=Mode.SUBTRACT)
    # Sketch6 → Cut-Extrude3 (cut, up to next)
    with BuildSketch(Plane(origin=(0, -20.070839215, 0), x_dir=(1, 0, 0), z_dir=(0, 1, 0)), mode=Mode.PRIVATE) as cut_extrude3_sk4:
        with Locations((-22.47809061, -3.25)):
            Circle(SKETCH6_R)
    cut_extrude3_tool4 = extrude(cut_extrude3_sk4.sketch, amount=-CUT_EXTRUDE3_REACH, mode=Mode.PRIVATE) & part.part
    add(cut_extrude3_tool4.solids().sort_by_distance((-22.478091, -20.070839, 3.25))[0], mode=Mode.SUBTRACT)


solid = part.part
